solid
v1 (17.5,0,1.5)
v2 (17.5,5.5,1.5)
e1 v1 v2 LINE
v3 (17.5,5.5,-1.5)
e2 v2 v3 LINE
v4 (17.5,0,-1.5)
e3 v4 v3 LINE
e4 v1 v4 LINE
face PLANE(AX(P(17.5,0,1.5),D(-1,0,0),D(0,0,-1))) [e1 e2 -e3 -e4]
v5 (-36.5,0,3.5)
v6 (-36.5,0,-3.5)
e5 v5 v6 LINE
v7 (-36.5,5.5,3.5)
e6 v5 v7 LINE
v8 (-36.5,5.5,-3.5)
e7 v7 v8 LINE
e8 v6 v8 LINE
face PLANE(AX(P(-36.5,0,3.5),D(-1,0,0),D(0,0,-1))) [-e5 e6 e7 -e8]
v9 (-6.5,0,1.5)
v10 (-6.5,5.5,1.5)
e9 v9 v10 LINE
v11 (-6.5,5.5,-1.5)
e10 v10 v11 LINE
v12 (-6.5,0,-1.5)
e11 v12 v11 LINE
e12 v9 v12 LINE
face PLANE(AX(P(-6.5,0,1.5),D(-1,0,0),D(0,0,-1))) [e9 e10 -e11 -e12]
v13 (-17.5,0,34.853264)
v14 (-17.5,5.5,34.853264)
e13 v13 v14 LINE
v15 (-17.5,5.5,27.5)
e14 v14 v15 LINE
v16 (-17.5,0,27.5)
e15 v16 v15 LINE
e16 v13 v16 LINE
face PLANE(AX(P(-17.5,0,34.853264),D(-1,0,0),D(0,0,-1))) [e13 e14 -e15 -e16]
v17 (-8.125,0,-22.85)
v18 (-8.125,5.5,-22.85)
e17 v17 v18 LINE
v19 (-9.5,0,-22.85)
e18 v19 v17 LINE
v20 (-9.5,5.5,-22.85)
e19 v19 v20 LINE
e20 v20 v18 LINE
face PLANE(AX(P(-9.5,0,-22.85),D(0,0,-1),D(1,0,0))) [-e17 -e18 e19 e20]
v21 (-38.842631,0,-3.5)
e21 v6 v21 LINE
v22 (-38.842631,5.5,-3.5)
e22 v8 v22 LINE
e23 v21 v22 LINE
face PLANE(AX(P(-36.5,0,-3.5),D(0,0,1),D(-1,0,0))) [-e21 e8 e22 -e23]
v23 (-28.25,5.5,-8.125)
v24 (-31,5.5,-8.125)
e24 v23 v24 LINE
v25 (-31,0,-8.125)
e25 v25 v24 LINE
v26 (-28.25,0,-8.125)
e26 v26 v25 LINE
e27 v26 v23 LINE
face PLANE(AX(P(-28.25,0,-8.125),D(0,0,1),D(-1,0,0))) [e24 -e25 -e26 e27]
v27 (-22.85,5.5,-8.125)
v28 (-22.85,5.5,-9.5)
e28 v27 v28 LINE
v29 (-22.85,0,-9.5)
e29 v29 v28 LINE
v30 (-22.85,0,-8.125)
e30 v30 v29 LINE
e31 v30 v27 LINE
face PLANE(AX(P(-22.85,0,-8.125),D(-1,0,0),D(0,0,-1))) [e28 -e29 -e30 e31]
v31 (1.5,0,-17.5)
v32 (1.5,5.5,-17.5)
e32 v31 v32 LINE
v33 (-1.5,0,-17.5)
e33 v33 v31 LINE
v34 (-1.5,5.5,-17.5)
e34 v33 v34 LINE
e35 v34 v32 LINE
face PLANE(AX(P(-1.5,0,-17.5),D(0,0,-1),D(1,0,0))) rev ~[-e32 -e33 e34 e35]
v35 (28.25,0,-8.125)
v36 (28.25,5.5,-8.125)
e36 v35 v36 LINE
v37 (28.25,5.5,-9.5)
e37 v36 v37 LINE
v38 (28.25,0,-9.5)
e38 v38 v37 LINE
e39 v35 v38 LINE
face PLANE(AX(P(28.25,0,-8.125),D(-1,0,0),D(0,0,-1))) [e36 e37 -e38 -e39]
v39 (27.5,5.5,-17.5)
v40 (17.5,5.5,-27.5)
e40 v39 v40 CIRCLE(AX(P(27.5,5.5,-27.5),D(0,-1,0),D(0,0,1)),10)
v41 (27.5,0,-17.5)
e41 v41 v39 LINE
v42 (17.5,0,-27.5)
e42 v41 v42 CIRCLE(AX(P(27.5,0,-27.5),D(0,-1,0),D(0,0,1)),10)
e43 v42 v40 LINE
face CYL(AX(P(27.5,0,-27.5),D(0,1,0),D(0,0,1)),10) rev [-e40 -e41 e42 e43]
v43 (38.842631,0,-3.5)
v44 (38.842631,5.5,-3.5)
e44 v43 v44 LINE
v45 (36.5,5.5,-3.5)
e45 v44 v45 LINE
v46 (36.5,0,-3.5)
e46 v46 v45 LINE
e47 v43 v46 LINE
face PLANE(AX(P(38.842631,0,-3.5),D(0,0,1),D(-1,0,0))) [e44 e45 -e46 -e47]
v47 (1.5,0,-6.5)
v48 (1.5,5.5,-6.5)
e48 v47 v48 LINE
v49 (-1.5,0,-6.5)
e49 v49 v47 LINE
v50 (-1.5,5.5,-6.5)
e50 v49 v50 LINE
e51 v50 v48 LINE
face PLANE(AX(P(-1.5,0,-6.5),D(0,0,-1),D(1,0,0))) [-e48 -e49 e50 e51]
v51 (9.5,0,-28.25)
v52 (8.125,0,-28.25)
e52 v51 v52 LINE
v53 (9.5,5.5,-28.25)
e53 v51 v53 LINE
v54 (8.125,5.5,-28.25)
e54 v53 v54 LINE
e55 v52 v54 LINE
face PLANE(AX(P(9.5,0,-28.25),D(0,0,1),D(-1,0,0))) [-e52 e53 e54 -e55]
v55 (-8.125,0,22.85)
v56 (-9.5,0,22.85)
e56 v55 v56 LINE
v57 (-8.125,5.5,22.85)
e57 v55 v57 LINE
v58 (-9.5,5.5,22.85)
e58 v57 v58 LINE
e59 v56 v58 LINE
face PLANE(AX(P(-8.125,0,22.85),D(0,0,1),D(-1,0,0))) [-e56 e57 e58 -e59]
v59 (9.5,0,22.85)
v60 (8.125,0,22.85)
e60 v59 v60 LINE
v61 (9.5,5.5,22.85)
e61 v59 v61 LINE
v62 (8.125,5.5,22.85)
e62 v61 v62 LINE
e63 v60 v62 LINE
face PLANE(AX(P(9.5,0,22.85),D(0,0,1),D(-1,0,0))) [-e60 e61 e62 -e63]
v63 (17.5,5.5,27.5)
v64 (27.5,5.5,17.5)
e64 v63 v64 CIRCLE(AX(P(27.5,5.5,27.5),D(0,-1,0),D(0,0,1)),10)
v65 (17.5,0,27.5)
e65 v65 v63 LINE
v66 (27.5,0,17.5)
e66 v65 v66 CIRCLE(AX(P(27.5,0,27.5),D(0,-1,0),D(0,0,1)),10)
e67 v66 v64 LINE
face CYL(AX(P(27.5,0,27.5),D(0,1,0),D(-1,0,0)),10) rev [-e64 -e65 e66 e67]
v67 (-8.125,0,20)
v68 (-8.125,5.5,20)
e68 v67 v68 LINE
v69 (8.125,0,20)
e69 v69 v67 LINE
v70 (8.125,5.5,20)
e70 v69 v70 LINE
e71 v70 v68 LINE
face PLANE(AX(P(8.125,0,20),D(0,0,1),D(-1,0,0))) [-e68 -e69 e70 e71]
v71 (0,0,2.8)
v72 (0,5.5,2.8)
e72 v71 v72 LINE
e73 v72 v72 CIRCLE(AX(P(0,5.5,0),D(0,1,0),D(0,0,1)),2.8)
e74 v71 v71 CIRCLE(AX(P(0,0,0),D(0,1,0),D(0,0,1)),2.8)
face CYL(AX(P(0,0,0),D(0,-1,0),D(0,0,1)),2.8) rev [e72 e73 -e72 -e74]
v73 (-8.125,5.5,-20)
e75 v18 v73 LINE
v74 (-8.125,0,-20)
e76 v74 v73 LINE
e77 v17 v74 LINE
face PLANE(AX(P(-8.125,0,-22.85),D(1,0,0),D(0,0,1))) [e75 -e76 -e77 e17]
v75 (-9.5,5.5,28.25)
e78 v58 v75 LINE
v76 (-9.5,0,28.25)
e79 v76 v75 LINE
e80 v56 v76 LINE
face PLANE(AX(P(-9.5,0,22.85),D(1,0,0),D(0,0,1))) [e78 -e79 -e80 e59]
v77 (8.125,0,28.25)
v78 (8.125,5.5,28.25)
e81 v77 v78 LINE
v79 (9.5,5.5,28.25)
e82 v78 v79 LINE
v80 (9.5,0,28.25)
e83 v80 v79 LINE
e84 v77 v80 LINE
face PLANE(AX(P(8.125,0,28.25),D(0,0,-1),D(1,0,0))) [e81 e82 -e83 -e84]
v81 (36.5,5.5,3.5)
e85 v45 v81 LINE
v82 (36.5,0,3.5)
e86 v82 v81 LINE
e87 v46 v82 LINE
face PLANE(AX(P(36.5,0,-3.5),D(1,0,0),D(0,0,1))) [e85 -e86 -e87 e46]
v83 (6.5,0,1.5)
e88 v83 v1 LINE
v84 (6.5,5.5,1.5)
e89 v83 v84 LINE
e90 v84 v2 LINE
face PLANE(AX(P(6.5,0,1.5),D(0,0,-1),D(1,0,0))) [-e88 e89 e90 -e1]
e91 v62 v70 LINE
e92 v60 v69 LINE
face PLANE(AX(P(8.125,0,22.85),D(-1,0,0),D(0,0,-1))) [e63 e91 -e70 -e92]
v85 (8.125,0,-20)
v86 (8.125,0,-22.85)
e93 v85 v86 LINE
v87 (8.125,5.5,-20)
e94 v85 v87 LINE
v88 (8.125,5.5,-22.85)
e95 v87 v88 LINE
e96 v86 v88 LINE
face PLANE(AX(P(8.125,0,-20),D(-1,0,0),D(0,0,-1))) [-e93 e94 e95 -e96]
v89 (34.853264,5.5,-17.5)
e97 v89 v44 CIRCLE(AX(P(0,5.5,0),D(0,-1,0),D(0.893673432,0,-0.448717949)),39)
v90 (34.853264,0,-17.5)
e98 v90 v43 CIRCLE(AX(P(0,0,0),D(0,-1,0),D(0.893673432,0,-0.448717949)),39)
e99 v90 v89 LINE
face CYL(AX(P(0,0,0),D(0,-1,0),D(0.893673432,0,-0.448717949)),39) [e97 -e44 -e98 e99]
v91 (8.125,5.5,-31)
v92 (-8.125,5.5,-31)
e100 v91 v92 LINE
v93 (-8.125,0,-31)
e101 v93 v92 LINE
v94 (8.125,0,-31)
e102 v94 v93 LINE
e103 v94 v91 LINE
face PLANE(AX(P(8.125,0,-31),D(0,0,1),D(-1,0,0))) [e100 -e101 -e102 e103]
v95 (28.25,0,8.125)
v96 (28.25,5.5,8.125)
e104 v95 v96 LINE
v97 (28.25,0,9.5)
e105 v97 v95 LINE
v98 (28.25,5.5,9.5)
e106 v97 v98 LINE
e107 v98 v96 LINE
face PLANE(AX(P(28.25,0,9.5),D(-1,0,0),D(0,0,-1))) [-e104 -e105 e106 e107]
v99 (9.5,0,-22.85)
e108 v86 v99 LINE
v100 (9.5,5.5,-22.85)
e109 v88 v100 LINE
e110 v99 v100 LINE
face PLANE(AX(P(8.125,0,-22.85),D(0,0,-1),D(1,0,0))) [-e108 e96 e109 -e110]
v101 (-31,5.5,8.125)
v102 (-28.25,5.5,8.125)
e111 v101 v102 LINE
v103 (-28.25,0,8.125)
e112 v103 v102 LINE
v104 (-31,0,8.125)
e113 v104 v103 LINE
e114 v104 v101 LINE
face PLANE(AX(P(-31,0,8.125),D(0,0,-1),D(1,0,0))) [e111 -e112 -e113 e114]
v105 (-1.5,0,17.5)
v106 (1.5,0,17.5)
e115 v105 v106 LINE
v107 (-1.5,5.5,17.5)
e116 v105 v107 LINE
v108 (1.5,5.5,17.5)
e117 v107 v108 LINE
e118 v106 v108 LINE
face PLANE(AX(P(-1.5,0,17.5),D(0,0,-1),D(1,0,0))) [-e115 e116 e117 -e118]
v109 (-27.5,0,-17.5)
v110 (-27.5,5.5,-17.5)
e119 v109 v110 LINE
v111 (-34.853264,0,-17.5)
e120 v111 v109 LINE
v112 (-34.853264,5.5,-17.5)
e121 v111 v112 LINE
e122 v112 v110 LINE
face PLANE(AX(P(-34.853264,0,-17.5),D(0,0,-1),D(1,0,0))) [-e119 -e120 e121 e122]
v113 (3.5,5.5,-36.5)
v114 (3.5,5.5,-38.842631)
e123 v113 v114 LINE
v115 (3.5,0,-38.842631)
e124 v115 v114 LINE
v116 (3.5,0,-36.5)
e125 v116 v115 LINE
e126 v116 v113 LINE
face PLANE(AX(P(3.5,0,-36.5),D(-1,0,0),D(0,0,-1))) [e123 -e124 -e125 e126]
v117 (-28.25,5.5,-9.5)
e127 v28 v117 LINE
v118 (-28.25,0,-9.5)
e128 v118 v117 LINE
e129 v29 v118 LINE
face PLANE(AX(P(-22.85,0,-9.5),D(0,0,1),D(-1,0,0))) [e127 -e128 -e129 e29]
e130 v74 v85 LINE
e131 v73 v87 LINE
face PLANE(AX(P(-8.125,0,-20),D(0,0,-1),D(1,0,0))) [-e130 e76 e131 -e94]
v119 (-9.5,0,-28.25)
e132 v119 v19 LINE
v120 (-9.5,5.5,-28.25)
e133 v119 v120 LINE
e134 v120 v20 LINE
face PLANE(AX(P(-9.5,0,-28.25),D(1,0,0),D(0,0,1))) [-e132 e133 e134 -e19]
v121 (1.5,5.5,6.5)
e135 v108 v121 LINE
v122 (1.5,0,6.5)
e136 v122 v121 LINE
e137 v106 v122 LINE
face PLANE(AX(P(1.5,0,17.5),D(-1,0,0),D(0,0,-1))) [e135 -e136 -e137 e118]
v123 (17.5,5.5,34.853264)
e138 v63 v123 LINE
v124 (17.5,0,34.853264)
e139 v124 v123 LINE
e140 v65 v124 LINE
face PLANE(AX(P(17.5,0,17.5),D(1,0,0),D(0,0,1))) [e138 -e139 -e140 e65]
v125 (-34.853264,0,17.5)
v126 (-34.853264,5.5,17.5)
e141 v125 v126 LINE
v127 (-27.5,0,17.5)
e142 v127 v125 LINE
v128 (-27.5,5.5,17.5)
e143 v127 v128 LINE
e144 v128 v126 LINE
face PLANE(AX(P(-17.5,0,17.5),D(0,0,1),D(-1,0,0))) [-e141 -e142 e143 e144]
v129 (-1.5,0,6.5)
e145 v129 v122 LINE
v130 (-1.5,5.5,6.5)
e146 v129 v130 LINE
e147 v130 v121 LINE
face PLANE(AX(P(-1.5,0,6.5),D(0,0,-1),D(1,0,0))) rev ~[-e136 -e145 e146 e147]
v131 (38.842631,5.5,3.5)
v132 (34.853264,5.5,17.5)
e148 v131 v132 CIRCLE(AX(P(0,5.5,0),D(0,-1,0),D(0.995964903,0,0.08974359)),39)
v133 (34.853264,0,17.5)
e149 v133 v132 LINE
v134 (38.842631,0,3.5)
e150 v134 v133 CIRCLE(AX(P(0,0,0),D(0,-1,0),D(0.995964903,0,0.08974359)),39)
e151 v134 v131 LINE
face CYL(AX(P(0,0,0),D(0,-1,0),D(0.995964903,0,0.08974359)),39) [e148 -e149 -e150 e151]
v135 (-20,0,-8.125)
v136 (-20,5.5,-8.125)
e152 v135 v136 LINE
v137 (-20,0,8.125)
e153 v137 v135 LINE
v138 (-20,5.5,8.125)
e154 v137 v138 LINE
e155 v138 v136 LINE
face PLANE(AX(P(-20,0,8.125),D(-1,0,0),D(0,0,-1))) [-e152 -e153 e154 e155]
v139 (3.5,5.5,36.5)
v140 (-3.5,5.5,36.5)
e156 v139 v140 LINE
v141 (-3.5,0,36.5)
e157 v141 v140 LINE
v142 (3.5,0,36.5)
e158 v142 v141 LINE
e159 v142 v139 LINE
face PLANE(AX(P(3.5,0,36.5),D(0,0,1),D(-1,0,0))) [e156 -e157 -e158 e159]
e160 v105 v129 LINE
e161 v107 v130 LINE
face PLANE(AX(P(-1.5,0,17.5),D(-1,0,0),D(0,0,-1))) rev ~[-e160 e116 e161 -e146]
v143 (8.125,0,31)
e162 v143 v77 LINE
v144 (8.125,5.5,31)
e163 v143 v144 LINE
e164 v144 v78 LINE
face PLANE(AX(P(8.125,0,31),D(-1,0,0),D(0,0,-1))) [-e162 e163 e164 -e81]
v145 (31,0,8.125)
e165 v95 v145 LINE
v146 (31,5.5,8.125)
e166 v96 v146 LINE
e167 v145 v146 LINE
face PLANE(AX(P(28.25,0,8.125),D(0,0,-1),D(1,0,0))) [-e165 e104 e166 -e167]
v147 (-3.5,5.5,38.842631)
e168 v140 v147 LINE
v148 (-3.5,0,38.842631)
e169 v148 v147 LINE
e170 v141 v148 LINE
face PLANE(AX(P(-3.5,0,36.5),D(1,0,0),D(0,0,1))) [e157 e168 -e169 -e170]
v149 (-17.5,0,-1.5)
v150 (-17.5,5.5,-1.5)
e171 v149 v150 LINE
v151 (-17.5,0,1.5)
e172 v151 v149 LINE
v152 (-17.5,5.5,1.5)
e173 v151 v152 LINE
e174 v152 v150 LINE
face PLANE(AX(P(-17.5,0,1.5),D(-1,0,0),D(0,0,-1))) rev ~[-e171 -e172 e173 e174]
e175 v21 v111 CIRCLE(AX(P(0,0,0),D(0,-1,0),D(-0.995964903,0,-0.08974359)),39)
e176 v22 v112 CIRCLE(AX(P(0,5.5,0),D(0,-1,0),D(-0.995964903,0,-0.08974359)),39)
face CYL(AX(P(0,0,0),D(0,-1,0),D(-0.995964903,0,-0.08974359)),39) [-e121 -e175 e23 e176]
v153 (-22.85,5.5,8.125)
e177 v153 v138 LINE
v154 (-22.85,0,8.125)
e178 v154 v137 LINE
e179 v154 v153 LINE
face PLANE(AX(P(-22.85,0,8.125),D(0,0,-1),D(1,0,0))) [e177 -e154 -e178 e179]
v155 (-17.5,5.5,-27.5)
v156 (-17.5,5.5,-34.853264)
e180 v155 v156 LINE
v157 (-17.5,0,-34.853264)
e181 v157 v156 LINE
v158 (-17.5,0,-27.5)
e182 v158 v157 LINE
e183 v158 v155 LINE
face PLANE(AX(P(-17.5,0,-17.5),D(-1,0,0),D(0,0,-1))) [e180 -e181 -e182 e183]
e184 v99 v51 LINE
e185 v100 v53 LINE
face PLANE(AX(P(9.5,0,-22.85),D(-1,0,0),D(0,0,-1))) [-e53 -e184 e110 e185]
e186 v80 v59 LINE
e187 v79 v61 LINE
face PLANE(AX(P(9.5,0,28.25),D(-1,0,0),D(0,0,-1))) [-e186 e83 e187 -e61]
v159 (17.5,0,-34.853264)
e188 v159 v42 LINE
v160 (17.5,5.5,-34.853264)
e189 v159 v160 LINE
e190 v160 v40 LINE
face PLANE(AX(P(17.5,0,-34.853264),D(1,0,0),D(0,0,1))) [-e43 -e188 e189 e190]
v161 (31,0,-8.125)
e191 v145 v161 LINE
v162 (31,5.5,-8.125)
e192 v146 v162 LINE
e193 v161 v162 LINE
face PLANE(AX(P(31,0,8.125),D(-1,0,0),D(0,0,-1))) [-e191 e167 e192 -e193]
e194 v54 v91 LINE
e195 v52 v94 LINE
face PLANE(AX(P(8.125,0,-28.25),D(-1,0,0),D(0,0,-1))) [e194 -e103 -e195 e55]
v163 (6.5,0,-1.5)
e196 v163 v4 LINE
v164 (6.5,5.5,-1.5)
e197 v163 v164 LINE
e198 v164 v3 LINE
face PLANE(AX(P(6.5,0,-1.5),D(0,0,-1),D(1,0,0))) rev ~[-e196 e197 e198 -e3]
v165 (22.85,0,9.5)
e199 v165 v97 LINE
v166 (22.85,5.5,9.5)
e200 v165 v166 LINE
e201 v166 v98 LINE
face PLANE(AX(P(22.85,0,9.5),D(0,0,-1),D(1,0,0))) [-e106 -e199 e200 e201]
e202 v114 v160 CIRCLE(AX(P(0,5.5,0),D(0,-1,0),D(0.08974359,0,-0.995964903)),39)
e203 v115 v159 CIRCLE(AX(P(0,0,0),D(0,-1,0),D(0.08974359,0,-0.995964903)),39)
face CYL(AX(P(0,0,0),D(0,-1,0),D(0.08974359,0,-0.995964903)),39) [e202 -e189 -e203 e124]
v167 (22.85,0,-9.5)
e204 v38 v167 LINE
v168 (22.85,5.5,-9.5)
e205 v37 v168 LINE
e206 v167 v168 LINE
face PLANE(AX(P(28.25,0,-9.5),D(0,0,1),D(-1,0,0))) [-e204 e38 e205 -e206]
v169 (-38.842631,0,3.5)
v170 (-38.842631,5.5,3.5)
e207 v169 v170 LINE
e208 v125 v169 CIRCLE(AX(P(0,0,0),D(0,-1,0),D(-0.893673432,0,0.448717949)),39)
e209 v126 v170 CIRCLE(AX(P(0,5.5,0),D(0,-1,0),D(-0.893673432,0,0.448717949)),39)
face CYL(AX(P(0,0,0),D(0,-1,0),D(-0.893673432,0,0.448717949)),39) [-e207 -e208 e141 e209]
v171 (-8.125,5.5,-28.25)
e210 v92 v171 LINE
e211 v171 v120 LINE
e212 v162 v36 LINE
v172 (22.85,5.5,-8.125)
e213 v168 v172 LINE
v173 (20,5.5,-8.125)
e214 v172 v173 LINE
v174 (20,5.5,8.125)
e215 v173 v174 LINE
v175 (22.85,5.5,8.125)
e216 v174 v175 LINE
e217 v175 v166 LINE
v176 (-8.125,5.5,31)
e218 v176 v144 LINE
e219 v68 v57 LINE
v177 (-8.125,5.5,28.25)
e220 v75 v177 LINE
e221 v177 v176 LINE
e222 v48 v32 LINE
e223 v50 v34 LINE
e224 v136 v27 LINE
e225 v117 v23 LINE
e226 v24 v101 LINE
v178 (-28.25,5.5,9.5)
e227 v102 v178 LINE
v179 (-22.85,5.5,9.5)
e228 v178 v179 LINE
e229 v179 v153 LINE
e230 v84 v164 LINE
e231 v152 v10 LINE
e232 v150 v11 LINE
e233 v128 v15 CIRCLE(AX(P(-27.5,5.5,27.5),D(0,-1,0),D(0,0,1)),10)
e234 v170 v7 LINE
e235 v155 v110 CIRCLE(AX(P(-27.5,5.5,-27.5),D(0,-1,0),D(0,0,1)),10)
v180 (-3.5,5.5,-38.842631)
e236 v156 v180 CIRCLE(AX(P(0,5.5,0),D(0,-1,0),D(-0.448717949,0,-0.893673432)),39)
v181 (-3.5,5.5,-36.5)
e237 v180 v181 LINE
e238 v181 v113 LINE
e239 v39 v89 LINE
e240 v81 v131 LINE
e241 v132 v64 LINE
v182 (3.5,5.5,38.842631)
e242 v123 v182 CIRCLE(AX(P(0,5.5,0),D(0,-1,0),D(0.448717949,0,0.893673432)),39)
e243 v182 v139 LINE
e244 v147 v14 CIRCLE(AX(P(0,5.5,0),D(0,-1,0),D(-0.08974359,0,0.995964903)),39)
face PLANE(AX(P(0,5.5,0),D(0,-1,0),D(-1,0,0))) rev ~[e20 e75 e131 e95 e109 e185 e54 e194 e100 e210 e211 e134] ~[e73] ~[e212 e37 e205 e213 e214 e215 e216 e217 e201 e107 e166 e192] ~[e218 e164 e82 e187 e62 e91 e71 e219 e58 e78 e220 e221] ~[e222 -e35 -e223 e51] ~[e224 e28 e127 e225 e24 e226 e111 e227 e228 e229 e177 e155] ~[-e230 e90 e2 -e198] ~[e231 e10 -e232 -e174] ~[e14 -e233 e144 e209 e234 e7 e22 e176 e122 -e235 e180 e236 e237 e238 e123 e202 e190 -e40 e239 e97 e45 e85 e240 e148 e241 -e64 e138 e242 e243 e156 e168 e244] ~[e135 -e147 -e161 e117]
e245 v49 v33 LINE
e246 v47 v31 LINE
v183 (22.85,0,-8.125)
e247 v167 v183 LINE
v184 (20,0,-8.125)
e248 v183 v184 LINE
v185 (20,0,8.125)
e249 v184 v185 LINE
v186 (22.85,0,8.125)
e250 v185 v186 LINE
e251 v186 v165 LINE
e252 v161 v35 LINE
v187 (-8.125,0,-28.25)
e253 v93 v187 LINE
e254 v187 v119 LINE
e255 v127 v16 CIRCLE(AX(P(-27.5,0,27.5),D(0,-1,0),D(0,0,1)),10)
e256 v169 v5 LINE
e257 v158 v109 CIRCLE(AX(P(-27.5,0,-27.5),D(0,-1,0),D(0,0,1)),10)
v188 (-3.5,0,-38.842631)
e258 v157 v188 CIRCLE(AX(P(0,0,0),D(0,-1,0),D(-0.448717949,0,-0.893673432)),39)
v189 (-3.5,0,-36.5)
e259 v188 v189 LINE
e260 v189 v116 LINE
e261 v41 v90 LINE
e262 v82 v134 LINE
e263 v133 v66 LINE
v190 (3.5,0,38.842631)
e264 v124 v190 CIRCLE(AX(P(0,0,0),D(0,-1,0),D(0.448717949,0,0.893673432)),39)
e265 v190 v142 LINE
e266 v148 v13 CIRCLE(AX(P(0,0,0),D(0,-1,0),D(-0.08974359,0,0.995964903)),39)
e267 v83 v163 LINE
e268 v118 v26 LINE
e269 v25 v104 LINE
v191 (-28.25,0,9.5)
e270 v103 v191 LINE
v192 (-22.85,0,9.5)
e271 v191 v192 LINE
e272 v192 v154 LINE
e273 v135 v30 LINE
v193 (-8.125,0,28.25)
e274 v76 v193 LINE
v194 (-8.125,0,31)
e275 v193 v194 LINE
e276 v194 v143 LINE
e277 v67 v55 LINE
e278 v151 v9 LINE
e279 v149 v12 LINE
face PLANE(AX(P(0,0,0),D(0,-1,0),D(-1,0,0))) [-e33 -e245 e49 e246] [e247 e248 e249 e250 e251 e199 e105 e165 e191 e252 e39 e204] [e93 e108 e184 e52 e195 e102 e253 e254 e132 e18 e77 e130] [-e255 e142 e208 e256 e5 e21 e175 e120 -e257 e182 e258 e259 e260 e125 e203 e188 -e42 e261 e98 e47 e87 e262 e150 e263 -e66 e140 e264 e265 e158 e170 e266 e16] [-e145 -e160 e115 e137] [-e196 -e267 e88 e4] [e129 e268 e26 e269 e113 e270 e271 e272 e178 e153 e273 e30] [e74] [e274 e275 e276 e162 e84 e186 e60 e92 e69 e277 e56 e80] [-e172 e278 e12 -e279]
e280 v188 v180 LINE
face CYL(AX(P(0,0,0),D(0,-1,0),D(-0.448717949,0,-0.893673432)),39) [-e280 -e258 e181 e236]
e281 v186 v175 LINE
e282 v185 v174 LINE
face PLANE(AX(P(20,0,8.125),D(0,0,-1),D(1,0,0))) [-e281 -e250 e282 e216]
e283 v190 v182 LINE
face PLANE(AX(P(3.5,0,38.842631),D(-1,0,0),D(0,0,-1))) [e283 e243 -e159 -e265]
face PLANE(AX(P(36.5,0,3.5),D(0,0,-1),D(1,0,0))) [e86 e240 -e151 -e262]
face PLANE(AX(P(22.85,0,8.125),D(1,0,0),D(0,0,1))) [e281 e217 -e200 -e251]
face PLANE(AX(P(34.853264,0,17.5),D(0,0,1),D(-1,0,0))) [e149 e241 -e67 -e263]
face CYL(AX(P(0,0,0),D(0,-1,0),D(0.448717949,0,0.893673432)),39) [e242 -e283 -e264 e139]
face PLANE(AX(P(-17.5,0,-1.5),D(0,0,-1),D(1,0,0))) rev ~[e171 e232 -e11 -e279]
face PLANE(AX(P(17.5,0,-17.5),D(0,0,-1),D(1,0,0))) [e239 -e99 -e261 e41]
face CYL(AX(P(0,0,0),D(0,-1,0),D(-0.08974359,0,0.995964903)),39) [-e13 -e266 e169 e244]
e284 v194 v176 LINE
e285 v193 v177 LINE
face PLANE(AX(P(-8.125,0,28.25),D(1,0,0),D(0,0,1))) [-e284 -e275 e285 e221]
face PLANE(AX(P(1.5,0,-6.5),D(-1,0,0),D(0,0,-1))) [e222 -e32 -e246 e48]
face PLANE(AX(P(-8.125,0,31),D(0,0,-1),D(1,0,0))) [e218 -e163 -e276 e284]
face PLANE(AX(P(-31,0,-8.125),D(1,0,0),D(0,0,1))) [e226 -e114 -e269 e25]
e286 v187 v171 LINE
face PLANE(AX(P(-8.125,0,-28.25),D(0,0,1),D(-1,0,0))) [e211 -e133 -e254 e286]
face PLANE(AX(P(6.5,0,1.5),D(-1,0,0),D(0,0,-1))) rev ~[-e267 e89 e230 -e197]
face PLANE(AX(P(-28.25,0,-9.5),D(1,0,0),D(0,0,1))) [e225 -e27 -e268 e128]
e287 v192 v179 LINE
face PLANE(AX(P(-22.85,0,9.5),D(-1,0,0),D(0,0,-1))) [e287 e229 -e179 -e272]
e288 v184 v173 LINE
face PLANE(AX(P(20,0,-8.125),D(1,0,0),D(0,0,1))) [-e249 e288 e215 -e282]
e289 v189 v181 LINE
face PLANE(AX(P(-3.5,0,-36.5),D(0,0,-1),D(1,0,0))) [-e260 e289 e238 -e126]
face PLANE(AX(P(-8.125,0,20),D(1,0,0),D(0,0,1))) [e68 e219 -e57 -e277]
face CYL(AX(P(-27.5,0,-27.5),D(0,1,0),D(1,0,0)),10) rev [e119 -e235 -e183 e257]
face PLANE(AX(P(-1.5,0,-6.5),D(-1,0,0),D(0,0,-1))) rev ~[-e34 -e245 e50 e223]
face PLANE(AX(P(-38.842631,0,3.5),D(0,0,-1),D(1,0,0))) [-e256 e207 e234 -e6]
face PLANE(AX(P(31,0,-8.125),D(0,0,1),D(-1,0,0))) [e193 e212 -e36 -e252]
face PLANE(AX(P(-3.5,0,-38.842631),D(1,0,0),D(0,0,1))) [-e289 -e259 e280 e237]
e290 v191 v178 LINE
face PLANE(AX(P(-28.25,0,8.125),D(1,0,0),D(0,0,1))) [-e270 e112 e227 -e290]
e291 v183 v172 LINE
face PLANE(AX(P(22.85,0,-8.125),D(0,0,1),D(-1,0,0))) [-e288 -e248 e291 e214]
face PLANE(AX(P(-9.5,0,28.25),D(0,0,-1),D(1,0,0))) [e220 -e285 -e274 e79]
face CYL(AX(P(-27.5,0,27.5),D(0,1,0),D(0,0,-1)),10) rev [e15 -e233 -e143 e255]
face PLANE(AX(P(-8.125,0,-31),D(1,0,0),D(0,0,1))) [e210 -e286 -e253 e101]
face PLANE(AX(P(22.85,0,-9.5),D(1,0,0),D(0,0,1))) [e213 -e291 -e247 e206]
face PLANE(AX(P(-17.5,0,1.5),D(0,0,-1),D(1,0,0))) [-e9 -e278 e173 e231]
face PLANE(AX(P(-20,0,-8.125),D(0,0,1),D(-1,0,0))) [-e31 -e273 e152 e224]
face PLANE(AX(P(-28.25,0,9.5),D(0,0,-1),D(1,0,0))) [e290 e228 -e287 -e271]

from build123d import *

# Parameters (mm, degrees)
SKETCH1_R           = 2.8
SKETCH1_W           = 3
SKETCH1_H           = 11
SKETCH1_W_2         = 11
SKETCH1_H_2         = 3
BOSS_EXTRUDE1_DEPTH = 5.5
FILLET1_R           = 10
FILLET2_R           = 10
FILLET3_R           = 10
FILLET4_R           = 10


with BuildPart() as part:
    # Sketch1 → Boss-Extrude1 (new body)
    with BuildSketch(Plane(origin=(0, 0, 0), x_dir=(1, 0, 0), z_dir=(0, 1, 0))):
        with BuildLine():
            Line((-3.5, 38.842631219), (-3.5, 36.5))
            Line((-3.5, 36.5), (3.5, 36.5))
            Line((3.5, 36.5), (3.5, 38.842631219))
            ThreePointArc((3.5, 38.842631219), (10.687785693, 37.506949182), (17.5, 34.853263836))
            Line((17.5, 34.853263836), (17.5, 17.5))
            Line((17.5, 17.5), (34.853263836, 17.5))
            ThreePointArc((34.853263836, 17.5), (37.506949182, 10.687785693), (38.842631219, 3.5))
            Line((38.842631219, 3.5), (36.5, 3.5))
            Line((36.5, 3.5), (36.5, -3.5))
            Line((36.5, -3.5), (38.842631219, -3.5))
            ThreePointArc((38.842631219, -3.5), (37.506949182, -10.687785693), (34.853263836, -17.5))
            Line((34.853263836, -17.5), (17.5, -17.5))
            Line((17.5, -17.5), (17.5, -34.853263836))
            ThreePointArc((17.5, -34.853263836), (10.687785693, -37.506949182), (3.5, -38.842631219))
            Line((3.5, -38.842631219), (3.5, -36.5))
            Line((3.5, -36.5), (-3.5, -36.5))
            Line((-3.5, -36.5), (-3.5, -38.842631219))
            ThreePointArc((-3.5, -38.842631219), (-10.687785693, -37.506949182), (-17.5, -34.853263836))
            Line((-17.5, -34.853263836), (-17.5, -17.5))
            Line((-17.5, -17.5), (-34.853263836, -17.5))
            ThreePointArc((-34.853263836, -17.5), (-37.506949182, -10.687785693), (-38.842631219, -3.5))
            Line((-38.842631219, -3.5), (-36.5, -3.5))
            Line((-36.5, -3.5), (-36.5, 3.5))
            Line((-36.5, 3.5), (-38.842631219, 3.5))
            ThreePointArc((-38.842631219, 3.5), (-37.506949182, 10.687785693), (-34.853263836, 17.5))
            Line((-34.853263836, 17.5), (-17.5, 17.5))
            Line((-17.5, 17.5), (-17.5, 34.853263836))
            ThreePointArc((-17.5, 34.853263836), (-10.687785693, 37.506949182), (-3.5, 38.842631219))
        make_face()
        with Locations(Location((0, 0, 0), (0, 0, 270))):
            Circle(SKETCH1_R, mode=Mode.SUBTRACT)
        Polygon((-8.125, 22.85), (-8.125, 20), (8.125, 20), (8.125, 22.85), (9.5, 22.85), (9.5, 28.25), (8.125, 28.25), (8.125, 31), (-8.125, 31), (-8.125, 28.25), (-9.5, 28.25), (-9.5, 22.85), align=None, mode=Mode.SUBTRACT)
        with Locations((0, 12)):
            Rectangle(SKETCH1_W, SKETCH1_H, mode=Mode.SUBTRACT)
        Polygon((22.85, 8.125), (20, 8.125), (20, -8.125), (22.85, -8.125), (22.85, -9.5), (28.25, -9.5), (28.25, -8.125), (31, -8.125), (31, 8.125), (28.25, 8.125), (28.25, 9.5), (22.85, 9.5), align=None, mode=Mode.SUBTRACT)
        with Locations((12, 0)):
            Rectangle(SKETCH1_W_2, SKETCH1_H_2, mode=Mode.SUBTRACT)
        Polygon((8.125, -22.85), (8.125, -20), (-8.125, -20), (-8.125, -22.85), (-9.5, -22.85), (-9.5, -28.25), (-8.125, -28.25), (-8.125, -31), (8.125, -31), (8.125, -28.25), (9.5, -28.25), (9.5, -22.85), align=None, mode=Mode.SUBTRACT)
        with Locations((0, -12)):
            Rectangle(SKETCH1_W, SKETCH1_H, mode=Mode.SUBTRACT)
        Polygon((-22.85, -8.125), (-20, -8.125), (-20, 8.125), (-22.85, 8.125), (-22.85, 9.5), (-28.25, 9.5), (-28.25, 8.125), (-31, 8.125), (-31, -8.125), (-28.25, -8.125), (-28.25, -9.5), (-22.85, -9.5), align=None, mode=Mode.SUBTRACT)
        with Locations((-12, 0)):
            Rectangle(SKETCH1_W_2, SKETCH1_H_2, mode=Mode.SUBTRACT)
    extrude(amount=BOSS_EXTRUDE1_DEPTH)

    # Fillet1
    fillet1_edges = [part.edges().sort_by_distance(p)[0] for p in [
        (-17.5, 2.75, 17.5),
    ]]
    fillet(fillet1_edges, radius=FILLET1_R)

    # Fillet2
    fillet2_edges = [part.edges().sort_by_distance(p)[0] for p in [
        (17.5, 2.75, 17.5),
    ]]
    fillet(fillet2_edges, radius=FILLET2_R)

    # Fillet3
    fillet3_edges = [part.edges().sort_by_distance(p)[0] for p in [
        (17.5, 2.75, -17.5),
    ]]
    fillet(fillet3_edges, radius=FILLET3_R)

    # Fillet4
    fillet4_edges = [part.edges().sort_by_distance(p)[0] for p in [
        (-17.5, 2.75, -17.5),
    ]]
    fillet(fillet4_edges, radius=FILLET4_R)


solid = part.part
